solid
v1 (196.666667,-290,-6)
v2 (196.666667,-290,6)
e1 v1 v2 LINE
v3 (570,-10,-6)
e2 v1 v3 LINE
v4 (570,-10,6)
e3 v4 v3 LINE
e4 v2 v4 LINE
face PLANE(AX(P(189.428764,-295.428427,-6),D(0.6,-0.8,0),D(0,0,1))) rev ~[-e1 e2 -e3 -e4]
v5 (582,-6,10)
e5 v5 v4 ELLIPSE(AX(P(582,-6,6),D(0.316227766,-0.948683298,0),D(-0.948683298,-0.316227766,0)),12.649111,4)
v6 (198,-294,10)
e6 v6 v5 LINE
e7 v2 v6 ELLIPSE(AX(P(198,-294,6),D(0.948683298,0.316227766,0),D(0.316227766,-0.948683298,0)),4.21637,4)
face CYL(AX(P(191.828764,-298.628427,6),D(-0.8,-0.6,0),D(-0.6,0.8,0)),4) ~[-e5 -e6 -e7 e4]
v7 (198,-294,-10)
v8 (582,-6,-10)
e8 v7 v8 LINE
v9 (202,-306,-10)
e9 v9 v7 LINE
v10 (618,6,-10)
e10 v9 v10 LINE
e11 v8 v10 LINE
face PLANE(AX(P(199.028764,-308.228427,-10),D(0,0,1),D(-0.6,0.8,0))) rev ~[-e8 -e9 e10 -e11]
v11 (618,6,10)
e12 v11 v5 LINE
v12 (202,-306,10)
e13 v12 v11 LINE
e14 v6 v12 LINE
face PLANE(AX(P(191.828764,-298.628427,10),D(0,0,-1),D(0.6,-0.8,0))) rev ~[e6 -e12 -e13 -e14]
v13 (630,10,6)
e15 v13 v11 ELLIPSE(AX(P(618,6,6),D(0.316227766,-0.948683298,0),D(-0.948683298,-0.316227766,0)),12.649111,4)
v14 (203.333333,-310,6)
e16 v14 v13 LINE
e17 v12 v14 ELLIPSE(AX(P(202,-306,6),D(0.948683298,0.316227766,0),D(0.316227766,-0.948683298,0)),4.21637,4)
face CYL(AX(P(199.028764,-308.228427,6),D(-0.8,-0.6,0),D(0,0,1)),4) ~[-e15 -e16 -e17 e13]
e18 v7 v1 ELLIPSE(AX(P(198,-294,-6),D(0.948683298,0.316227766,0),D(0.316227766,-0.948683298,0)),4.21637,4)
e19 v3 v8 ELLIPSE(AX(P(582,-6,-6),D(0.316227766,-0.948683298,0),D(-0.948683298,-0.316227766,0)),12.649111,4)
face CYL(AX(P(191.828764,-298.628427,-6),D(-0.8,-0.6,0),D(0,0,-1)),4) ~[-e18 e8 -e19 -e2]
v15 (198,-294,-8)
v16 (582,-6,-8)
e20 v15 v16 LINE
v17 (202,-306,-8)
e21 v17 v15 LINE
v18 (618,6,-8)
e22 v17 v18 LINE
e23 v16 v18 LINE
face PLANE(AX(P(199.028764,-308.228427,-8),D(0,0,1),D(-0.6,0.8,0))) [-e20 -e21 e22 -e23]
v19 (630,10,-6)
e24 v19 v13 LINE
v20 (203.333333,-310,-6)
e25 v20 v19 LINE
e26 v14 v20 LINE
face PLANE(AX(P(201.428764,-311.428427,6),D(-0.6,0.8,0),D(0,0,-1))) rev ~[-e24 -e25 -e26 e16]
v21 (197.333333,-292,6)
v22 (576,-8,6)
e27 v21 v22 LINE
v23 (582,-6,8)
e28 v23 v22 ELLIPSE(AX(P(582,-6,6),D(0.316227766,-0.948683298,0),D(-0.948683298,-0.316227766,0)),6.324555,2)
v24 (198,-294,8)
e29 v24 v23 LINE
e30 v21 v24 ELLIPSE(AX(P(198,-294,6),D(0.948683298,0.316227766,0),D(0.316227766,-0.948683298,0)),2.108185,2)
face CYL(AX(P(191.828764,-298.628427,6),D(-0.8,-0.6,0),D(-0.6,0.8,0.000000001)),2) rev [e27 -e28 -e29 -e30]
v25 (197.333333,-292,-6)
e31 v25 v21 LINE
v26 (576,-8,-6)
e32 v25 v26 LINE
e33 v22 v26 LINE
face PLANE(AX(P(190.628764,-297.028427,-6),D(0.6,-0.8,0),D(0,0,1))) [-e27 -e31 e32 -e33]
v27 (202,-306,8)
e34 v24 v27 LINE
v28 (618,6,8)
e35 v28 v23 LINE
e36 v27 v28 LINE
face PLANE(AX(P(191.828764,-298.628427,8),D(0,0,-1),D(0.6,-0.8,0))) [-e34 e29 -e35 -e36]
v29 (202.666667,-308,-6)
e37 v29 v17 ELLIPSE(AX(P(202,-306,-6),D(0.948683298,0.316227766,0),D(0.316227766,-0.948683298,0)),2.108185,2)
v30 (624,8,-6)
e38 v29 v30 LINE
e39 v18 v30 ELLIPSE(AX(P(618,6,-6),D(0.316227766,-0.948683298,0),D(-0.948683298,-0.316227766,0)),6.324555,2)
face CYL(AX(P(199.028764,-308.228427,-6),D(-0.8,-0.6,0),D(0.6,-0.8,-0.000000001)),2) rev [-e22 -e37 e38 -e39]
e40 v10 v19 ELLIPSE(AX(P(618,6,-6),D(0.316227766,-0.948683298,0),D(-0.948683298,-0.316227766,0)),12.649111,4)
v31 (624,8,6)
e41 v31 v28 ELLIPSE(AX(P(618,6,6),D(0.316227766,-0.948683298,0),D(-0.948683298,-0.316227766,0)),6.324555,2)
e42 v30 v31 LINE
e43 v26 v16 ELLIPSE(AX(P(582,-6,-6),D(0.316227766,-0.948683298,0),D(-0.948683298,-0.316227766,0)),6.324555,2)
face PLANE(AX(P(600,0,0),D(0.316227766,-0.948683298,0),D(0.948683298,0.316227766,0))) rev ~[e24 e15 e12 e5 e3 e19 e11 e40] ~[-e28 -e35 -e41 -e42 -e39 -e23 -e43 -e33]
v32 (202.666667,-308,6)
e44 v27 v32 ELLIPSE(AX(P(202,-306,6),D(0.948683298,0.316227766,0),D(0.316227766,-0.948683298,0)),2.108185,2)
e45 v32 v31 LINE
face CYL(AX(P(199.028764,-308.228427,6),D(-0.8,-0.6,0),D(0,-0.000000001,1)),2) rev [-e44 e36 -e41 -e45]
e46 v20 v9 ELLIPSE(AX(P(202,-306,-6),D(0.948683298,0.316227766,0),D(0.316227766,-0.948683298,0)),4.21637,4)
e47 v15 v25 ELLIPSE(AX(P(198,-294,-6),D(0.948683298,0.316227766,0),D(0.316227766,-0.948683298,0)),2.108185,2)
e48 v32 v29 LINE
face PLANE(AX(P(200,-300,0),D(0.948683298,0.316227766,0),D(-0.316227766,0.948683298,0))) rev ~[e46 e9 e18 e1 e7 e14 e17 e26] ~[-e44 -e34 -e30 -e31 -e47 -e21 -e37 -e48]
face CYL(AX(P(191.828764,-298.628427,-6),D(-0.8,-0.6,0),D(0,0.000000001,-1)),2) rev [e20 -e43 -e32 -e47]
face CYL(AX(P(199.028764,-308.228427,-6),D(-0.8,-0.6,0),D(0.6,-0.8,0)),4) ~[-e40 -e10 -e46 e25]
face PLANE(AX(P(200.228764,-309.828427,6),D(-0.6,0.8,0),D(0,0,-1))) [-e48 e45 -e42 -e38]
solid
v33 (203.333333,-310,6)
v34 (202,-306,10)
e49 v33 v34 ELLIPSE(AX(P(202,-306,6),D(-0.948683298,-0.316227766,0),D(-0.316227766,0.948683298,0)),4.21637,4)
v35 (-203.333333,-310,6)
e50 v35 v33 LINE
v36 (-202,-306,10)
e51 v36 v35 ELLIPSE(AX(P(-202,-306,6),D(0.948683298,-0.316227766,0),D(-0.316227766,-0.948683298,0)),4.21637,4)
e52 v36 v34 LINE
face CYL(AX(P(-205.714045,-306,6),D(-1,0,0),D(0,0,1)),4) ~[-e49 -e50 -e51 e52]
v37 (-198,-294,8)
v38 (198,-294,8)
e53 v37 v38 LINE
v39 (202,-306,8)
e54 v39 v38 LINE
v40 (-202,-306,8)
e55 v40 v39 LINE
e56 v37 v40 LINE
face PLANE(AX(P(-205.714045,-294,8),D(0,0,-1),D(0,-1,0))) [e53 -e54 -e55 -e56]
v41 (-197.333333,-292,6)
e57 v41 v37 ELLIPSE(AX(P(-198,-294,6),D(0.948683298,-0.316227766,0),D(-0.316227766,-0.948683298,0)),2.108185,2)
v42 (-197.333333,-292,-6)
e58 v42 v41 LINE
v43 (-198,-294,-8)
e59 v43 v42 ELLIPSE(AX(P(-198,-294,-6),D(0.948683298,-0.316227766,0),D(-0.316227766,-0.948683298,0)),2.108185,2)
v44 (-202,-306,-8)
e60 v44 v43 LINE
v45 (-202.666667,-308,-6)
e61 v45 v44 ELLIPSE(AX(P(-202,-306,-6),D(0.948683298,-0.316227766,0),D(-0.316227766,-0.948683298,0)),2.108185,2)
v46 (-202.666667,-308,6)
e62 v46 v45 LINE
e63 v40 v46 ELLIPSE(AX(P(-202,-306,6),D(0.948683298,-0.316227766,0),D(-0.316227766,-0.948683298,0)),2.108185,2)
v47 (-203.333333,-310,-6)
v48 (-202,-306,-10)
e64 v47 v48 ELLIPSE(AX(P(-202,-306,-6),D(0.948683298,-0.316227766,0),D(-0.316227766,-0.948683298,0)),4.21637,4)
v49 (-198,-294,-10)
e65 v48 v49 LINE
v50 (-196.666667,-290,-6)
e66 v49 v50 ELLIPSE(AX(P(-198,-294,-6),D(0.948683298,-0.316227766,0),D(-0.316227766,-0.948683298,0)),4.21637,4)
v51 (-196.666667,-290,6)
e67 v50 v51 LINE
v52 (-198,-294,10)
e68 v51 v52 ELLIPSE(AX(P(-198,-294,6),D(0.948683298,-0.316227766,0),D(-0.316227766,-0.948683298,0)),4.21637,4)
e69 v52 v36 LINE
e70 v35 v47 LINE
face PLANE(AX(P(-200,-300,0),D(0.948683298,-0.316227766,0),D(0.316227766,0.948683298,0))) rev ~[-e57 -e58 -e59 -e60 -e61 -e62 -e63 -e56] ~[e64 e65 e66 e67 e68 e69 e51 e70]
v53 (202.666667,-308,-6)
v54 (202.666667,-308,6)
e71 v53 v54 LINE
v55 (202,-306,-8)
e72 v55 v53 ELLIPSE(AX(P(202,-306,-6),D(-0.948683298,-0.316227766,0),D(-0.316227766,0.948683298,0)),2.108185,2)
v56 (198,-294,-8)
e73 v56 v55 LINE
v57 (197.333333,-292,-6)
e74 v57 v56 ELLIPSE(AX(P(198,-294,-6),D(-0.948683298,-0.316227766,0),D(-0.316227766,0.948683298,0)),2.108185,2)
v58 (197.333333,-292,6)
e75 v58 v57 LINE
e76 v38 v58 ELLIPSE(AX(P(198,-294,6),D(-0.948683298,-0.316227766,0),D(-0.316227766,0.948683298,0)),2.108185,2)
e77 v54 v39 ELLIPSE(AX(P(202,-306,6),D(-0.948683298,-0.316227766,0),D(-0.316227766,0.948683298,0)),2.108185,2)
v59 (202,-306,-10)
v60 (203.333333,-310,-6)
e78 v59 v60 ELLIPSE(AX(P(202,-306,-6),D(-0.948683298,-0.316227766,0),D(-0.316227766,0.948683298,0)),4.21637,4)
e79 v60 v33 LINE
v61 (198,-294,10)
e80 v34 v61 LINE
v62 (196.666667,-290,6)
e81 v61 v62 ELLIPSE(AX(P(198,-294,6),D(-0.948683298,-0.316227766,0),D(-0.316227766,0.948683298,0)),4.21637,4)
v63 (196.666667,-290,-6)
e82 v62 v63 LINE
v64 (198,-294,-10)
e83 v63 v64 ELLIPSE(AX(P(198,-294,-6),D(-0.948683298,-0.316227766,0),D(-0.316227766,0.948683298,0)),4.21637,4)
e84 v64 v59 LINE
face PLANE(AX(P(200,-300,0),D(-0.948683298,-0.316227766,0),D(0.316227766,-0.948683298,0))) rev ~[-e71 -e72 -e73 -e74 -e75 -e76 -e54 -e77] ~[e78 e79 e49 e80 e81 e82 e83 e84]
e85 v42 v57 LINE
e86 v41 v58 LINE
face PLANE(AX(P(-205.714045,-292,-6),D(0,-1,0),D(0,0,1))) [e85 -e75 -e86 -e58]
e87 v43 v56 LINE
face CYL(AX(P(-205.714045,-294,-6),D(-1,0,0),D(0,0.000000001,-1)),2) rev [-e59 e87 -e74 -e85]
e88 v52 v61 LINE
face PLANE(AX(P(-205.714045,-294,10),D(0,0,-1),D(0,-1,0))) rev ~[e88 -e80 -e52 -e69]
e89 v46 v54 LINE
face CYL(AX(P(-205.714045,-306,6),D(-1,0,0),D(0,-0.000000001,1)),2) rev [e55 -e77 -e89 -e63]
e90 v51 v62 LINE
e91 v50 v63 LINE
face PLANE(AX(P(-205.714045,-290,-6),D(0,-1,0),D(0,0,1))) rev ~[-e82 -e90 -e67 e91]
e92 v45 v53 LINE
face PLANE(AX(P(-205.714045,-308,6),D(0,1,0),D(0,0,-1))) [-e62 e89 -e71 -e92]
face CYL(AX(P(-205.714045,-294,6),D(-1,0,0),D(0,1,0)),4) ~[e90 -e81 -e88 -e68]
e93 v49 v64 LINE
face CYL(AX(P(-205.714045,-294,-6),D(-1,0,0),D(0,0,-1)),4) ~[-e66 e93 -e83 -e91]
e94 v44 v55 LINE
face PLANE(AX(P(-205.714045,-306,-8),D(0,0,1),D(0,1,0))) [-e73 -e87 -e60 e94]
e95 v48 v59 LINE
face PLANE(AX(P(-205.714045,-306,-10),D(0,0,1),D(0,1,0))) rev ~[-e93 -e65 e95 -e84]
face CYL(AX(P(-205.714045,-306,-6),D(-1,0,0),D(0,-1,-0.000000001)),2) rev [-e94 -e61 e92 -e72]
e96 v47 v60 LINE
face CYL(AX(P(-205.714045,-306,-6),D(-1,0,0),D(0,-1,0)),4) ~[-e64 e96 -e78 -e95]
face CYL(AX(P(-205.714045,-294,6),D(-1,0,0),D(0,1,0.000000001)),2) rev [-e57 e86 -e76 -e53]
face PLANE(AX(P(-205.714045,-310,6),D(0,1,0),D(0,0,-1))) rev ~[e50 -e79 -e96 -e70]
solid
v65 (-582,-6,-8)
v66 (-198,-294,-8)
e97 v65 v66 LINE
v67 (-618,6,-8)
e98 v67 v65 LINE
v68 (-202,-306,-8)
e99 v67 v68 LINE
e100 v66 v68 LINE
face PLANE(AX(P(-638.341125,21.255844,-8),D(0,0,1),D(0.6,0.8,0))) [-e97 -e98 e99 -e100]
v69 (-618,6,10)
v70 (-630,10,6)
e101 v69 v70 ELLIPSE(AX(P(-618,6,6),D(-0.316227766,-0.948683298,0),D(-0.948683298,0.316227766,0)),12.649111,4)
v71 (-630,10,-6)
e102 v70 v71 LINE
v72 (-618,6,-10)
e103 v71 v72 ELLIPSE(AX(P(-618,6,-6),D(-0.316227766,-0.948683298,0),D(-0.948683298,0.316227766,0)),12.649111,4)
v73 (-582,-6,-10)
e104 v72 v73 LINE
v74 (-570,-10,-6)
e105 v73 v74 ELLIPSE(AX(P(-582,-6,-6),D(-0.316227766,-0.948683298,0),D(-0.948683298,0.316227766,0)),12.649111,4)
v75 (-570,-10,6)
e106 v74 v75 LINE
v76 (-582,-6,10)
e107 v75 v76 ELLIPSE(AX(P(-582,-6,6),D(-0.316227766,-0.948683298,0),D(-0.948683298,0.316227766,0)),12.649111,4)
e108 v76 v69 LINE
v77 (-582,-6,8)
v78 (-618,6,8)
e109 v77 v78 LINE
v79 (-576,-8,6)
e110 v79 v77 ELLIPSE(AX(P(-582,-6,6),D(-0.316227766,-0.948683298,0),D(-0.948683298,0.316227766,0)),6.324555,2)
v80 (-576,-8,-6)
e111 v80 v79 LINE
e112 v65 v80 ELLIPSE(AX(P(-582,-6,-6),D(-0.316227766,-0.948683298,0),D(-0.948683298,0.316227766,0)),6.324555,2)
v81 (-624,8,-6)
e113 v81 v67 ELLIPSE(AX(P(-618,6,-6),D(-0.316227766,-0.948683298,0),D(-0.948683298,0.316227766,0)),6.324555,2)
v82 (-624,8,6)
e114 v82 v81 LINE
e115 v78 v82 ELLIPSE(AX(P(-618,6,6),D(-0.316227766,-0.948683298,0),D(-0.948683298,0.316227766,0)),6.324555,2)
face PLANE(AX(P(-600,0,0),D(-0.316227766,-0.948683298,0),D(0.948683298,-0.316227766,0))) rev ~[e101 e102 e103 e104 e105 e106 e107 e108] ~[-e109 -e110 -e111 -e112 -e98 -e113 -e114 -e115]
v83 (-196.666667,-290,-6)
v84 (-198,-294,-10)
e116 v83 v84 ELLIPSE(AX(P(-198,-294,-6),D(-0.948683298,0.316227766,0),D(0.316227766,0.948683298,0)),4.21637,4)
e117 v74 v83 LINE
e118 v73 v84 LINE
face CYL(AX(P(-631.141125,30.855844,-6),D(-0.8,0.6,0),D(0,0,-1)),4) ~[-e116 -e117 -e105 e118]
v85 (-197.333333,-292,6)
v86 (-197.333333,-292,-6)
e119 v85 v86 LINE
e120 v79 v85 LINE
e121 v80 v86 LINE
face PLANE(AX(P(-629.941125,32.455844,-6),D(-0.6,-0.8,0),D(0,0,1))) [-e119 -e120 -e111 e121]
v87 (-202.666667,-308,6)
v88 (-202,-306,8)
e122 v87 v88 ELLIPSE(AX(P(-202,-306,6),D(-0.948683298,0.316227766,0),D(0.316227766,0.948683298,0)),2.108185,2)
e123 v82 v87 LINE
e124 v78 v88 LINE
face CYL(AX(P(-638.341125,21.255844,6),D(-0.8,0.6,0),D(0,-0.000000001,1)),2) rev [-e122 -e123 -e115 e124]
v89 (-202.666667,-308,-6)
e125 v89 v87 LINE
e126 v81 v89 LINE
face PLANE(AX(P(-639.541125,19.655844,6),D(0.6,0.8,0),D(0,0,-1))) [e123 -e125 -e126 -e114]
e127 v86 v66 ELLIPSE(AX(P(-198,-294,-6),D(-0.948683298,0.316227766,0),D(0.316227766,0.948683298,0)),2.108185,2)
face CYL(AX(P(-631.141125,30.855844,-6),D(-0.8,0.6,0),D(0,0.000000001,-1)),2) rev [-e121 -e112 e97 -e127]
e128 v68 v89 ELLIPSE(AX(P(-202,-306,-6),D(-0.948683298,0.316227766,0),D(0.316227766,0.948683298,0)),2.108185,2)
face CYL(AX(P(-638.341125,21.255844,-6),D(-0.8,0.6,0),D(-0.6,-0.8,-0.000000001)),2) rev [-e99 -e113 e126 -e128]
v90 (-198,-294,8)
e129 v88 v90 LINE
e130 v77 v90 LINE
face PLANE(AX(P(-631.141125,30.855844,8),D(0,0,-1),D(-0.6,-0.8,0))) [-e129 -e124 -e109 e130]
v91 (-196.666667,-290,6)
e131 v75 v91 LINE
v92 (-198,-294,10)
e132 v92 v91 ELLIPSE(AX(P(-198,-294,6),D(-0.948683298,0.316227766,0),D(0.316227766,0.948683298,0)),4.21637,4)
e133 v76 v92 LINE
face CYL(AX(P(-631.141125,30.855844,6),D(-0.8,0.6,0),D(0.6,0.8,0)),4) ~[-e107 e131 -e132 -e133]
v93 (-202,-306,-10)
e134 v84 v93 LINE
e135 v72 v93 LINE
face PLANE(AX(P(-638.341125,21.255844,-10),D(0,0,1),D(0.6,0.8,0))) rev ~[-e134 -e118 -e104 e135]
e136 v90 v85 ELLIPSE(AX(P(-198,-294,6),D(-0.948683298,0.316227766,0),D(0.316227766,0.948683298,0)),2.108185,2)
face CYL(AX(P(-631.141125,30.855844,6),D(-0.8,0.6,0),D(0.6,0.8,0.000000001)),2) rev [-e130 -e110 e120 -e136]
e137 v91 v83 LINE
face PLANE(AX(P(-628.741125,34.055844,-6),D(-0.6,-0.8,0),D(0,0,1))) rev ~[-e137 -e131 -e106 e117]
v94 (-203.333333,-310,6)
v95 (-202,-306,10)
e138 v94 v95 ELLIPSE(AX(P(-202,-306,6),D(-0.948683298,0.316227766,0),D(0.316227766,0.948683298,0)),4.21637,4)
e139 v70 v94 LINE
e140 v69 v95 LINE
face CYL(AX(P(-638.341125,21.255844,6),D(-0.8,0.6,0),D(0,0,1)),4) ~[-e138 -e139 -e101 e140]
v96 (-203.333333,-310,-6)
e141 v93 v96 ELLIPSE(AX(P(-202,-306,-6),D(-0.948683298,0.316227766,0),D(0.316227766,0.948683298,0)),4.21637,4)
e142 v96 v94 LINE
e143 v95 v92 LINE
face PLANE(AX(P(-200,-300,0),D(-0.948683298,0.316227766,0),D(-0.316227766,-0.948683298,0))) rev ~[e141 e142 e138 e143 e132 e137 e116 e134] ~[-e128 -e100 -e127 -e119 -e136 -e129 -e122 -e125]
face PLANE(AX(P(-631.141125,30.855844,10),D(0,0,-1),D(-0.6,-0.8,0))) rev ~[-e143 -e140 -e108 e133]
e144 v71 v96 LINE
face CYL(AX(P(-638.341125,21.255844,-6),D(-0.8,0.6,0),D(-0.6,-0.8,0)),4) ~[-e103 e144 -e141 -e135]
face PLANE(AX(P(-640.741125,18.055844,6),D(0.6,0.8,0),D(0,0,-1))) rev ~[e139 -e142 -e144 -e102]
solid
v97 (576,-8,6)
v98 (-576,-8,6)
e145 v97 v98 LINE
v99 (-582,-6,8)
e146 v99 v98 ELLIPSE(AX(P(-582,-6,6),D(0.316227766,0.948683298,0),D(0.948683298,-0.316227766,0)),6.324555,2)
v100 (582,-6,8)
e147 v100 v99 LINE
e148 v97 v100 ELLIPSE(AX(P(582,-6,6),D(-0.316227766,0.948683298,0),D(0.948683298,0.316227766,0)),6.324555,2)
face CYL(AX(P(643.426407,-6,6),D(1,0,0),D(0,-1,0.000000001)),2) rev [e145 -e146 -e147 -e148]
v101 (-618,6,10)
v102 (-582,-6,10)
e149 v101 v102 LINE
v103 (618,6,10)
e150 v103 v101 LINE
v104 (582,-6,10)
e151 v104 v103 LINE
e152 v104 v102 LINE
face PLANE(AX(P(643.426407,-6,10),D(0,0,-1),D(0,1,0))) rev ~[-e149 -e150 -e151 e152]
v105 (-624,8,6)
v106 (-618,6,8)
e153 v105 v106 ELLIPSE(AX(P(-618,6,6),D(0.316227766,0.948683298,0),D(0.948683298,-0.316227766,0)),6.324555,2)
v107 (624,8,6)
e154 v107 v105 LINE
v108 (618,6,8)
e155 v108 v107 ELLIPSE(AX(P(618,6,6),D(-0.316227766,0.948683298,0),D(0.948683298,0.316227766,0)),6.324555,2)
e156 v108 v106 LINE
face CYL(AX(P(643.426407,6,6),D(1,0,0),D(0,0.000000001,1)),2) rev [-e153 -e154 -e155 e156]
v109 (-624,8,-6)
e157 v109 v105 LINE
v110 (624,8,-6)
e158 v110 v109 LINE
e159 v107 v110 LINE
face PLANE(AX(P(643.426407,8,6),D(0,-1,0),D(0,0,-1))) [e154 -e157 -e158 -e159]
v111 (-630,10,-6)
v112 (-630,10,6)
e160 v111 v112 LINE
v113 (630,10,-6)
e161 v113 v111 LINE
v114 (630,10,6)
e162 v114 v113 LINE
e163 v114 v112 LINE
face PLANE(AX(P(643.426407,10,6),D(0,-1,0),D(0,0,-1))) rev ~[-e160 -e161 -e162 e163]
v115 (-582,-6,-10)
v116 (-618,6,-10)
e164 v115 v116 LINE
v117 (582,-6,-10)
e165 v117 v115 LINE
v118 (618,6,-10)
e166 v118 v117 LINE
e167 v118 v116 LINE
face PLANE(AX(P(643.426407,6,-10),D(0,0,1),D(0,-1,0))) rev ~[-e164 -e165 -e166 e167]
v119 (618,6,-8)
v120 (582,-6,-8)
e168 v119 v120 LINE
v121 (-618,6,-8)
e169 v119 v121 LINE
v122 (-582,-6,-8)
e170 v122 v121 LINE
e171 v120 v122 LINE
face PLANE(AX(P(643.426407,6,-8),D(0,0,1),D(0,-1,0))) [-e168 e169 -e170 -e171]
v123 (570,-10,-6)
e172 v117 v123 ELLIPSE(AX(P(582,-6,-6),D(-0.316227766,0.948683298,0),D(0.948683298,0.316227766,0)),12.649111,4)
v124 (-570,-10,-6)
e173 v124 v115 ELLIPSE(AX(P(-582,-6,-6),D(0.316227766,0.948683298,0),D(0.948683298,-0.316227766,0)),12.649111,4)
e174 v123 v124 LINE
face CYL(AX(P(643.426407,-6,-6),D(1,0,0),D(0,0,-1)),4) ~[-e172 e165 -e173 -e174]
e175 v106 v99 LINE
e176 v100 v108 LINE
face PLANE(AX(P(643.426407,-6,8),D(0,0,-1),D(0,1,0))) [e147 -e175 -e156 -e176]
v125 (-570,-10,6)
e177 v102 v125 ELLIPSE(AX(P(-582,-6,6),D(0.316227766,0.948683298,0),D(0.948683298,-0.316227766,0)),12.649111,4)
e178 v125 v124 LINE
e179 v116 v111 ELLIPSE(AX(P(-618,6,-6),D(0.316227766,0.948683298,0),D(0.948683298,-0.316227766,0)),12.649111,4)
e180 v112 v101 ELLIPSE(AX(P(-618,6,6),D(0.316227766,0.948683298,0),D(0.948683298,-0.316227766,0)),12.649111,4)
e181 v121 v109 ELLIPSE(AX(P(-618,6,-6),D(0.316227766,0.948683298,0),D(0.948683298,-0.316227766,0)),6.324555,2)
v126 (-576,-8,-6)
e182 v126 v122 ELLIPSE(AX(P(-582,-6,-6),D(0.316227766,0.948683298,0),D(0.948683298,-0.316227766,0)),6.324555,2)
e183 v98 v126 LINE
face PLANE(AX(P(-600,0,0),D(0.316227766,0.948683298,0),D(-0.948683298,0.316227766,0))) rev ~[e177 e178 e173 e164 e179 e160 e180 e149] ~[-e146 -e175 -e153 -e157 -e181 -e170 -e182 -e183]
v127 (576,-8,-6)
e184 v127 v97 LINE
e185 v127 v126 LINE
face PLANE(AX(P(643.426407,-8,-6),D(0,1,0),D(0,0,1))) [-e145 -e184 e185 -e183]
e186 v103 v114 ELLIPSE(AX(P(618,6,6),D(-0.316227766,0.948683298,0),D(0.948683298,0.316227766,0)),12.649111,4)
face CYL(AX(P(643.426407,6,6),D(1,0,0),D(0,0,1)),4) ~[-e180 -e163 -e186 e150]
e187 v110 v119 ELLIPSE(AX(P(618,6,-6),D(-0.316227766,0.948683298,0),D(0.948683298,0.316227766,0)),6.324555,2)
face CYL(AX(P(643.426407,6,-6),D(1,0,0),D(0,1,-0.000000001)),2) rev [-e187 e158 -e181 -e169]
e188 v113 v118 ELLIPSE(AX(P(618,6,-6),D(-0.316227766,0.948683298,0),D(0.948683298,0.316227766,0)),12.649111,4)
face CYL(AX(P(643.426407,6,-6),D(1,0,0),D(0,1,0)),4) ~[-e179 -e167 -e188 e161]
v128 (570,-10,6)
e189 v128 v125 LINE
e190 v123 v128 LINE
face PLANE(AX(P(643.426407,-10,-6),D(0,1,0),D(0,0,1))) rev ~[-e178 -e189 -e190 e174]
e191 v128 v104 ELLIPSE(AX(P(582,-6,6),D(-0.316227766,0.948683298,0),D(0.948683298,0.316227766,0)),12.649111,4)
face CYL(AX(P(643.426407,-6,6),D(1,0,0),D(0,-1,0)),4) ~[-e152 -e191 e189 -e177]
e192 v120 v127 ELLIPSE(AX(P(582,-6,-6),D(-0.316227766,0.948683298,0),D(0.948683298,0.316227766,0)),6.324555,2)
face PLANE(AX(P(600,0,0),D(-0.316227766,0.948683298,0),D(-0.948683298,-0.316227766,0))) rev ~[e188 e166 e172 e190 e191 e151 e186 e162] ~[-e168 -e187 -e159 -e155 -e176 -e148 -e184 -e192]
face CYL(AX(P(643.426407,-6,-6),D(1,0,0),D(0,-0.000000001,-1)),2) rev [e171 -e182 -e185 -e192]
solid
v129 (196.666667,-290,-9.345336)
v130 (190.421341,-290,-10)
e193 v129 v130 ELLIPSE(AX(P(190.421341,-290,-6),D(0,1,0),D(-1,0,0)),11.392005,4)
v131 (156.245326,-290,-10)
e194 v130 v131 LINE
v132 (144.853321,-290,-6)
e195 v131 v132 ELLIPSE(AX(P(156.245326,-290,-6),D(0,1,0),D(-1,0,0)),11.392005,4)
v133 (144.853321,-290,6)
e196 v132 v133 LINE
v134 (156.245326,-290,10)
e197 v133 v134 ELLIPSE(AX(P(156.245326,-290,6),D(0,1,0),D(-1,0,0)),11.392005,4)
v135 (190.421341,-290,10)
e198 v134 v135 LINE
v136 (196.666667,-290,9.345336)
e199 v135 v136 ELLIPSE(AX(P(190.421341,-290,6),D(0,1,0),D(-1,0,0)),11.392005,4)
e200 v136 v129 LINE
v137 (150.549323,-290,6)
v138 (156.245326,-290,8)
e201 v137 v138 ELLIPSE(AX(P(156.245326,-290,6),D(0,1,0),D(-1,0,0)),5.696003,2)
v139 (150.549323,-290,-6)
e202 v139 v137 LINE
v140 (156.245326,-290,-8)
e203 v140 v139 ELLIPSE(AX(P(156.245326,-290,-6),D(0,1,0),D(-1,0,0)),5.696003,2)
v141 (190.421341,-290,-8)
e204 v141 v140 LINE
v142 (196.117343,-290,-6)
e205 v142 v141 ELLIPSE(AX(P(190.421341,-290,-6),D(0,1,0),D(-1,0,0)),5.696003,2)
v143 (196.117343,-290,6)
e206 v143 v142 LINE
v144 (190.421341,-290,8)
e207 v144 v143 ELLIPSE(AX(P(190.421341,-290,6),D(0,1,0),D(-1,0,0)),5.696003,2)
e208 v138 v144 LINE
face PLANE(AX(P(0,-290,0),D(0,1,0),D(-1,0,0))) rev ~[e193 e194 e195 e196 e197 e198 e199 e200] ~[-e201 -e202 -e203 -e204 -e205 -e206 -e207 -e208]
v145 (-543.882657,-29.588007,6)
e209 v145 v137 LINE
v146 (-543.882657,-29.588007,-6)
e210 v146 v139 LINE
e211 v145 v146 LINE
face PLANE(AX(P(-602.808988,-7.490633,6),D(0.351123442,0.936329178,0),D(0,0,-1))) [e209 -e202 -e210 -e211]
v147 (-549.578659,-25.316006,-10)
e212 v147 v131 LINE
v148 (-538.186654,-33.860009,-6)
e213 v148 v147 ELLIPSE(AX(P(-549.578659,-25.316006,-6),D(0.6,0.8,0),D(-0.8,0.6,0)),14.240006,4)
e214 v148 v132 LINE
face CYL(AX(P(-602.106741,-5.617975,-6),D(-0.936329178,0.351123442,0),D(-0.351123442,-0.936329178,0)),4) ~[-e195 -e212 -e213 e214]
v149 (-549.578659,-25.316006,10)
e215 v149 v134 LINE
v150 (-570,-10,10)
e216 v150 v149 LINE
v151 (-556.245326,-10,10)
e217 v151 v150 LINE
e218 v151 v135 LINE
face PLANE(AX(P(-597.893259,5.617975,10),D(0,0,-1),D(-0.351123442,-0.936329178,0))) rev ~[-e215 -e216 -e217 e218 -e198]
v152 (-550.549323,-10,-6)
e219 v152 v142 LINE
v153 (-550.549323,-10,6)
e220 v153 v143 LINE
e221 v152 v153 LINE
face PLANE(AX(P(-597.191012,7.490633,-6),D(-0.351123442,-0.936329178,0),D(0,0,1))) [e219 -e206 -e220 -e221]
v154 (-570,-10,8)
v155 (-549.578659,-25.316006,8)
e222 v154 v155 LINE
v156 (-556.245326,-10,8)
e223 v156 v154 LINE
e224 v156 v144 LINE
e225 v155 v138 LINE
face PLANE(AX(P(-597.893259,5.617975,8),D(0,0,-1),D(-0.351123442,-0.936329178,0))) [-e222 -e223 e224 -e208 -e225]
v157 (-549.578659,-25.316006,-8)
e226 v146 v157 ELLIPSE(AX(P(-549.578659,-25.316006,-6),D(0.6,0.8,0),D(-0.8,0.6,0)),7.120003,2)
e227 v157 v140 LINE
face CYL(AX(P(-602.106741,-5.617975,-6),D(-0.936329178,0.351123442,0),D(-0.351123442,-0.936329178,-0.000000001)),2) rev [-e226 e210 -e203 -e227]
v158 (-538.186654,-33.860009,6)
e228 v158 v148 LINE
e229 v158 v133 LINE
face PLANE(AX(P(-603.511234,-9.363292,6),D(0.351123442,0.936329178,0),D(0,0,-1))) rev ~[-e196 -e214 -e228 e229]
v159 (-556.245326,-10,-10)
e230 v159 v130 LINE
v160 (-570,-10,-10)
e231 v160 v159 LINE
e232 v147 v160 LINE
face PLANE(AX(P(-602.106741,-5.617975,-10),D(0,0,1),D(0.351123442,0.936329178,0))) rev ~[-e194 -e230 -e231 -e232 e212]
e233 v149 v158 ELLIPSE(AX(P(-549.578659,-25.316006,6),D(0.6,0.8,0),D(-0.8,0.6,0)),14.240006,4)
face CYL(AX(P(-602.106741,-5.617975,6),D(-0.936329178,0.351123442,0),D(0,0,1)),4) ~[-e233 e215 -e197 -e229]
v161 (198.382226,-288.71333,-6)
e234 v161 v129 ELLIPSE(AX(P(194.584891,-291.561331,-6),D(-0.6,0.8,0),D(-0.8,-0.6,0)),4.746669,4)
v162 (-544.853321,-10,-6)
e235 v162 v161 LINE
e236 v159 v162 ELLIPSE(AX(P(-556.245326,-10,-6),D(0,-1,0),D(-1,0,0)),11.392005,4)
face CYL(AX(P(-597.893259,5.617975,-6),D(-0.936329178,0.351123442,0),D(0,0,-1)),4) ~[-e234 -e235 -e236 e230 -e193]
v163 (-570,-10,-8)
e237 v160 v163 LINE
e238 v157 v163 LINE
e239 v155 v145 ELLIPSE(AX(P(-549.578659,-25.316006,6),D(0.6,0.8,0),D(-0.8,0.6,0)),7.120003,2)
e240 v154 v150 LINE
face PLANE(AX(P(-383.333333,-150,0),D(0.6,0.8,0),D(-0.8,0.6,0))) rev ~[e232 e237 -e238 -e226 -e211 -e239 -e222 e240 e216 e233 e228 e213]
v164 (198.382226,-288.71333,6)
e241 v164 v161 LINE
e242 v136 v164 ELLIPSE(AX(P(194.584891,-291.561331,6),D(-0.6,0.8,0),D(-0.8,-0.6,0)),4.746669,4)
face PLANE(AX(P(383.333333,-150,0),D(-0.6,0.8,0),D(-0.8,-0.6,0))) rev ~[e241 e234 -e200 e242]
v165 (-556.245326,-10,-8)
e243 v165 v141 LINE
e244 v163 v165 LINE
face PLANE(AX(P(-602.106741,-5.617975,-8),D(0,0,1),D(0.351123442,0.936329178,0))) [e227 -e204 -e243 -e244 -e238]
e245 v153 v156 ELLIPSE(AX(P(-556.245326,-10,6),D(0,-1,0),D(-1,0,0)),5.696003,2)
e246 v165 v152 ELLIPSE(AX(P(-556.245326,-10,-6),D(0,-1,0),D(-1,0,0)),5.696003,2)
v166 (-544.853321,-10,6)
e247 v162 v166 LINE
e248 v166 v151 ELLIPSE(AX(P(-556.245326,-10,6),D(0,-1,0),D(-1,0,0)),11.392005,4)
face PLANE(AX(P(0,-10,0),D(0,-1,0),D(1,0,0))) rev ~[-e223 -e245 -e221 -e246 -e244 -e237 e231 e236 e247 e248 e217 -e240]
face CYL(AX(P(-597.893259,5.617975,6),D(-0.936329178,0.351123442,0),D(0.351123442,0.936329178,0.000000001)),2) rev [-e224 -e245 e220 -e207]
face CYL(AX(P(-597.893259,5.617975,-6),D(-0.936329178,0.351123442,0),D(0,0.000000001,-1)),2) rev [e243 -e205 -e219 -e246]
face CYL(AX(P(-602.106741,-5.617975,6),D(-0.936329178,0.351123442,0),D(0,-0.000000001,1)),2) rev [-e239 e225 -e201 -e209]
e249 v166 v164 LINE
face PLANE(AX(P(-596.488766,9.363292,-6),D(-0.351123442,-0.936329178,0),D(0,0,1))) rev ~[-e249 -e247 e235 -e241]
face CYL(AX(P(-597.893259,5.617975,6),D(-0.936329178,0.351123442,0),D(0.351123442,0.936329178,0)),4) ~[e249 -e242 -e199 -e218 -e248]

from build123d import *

# Parameters (mm, degrees)
SQUARE_TUBE_20_X_20_X_2_2_DEPTH      = 1243.426406871
SQUARE_TUBE_20_X_20_X_2_2_DEPTH_BACK = 43.426406871
SQUARE_TUBE_20_X_20_X_2_2_2_DEPTH    = 549.140452079
SQUARE_TUBE_20_X_20_X_2_2_3_DEPTH    = 411.428090416
SQUARE_TUBE_20_X_20_X_2_2_4_DEPTH    = 549.140452079
SQUARE_TUBE_20_X_20_X_2_1_DEPTH      = 854.400374532


with BuildPart() as part:
    # Sketch15 → Square tube 20 X 20 X 2(2) (new, two sides: drawn at the far end of the back side and taken through both)
    with BuildSketch(Plane(origin=(600, 0, 0), x_dir=(0, -1, 0), z_dir=(-1, 0, 0)).offset(-SQUARE_TUBE_20_X_20_X_2_2_DEPTH_BACK)):
        with BuildLine():
            Line((-6, -10), (6, -10))
            ThreePointArc((6, -10), (8.828427125, -8.828427125), (10, -6))
            Line((10, -6), (10, 6))
            ThreePointArc((10, 6), (8.828427125, 8.828427125), (6, 10))
            Line((6, 10), (-6, 10))
            ThreePointArc((-6, 10), (-8.828427125, 8.828427125), (-10, 6))
            Line((-10, 6), (-10, -6))
            ThreePointArc((-10, -6), (-8.828427125, -8.828427125), (-6, -10))
        make_face()
        with BuildLine():
            Line((-6, -8), (6, -8))
            ThreePointArc((6, -8), (7.414213562, -7.414213562), (8, -6))
            Line((8, -6), (8, 6))
            ThreePointArc((8, 6), (7.414213562, 7.414213562), (6, 8))
            Line((6, 8), (-6, 8))
            ThreePointArc((-6, 8), (-7.414213562, 7.414213562), (-8, 6))
            Line((-8, 6), (-8, -6))
            ThreePointArc((-8, -6), (-7.414213562, -7.414213562), (-6, -8))
        make_face(mode=Mode.SUBTRACT)
    extrude(amount=SQUARE_TUBE_20_X_20_X_2_2_DEPTH + SQUARE_TUBE_20_X_20_X_2_2_DEPTH_BACK)

    # Square tube 20 X 20 X 2(2) mitre 1
    split(bisect_by=Plane(origin=(600, 0, 0), x_dir=(-0.948683298, -0.316227766, 0), z_dir=(-0.316227766, 0.948683298, 0)), keep=Keep.TOP)

    # Square tube 20 X 20 X 2(2) mitre 2
    split(bisect_by=Plane(origin=(-600, 0, 0), x_dir=(-0.948683298, 0.316227766, 0), z_dir=(0.316227766, 0.948683298, 0)), keep=Keep.TOP)


with BuildPart() as body_2:
    # Sketch15 on segment 2 (carried to segment 2) → Square tube 20 X 20 X 2_2 2 (new body)
    with BuildSketch(Plane(origin=(-634.741125497, 26.055844123, 0), x_dir=(0.6, 0.8, 0), z_dir=(0.8, -0.6, 0))):
        with BuildLine():
            Line((-6, -10), (6, -10))
            ThreePointArc((6, -10), (8.828427125, -8.828427125), (10, -6))
            Line((10, -6), (10, 6))
            ThreePointArc((10, 6), (8.828427125, 8.828427125), (6, 10))
            Line((6, 10), (-6, 10))
            ThreePointArc((-6, 10), (-8.828427125, 8.828427125), (-10, 6))
            Line((-10, 6), (-10, -6))
            ThreePointArc((-10, -6), (-8.828427125, -8.828427125), (-6, -10))
        make_face()
        with BuildLine():
            Line((-6, -8), (6, -8))
            ThreePointArc((6, -8), (7.414213562, -7.414213562), (8, -6))
            Line((8, -6), (8, 6))
            ThreePointArc((8, 6), (7.414213562, 7.414213562), (6, 8))
            Line((6, 8), (-6, 8))
            ThreePointArc((-6, 8), (-7.414213562, 7.414213562), (-8, 6))
            Line((-8, 6), (-8, -6))
            ThreePointArc((-8, -6), (-7.414213562, -7.414213562), (-6, -8))
        make_face(mode=Mode.SUBTRACT)
    extrude(amount=SQUARE_TUBE_20_X_20_X_2_2_2_DEPTH)

    # Square tube 20 X 20 X 2_2 2 mitre 1
    split(bisect_by=Plane(origin=(-600, 0, 0), x_dir=(0.948683298, -0.316227766, 0), z_dir=(-0.316227766, -0.948683298, 0)), keep=Keep.TOP)

    # Square tube 20 X 20 X 2_2 2 mitre 2
    split(bisect_by=Plane(origin=(-200, -300, 0), x_dir=(-0.316227766, -0.948683298, 0), z_dir=(-0.948683298, 0.316227766, 0)), keep=Keep.TOP)


with BuildPart() as body_3:
    # Sketch15 on segment 3 (carried to segment 3) → Square tube 20 X 20 X 2_2 3 (new body)
    with BuildSketch(Plane(origin=(-205.714045208, -300, 0), x_dir=(0, 1, 0), z_dir=(1, 0, 0))):
        with BuildLine():
            Line((-6, -10), (6, -10))
            ThreePointArc((6, -10), (8.828427125, -8.828427125), (10, -6))
            Line((10, -6), (10, 6))
            ThreePointArc((10, 6), (8.828427125, 8.828427125), (6, 10))
            Line((6, 10), (-6, 10))
            ThreePointArc((-6, 10), (-8.828427125, 8.828427125), (-10, 6))
            Line((-10, 6), (-10, -6))
            ThreePointArc((-10, -6), (-8.828427125, -8.828427125), (-6, -10))
        make_face()
        with BuildLine():
            Line((-6, -8), (6, -8))
            ThreePointArc((6, -8), (7.414213562, -7.414213562), (8, -6))
            Line((8, -6), (8, 6))
            ThreePointArc((8, 6), (7.414213562, 7.414213562), (6, 8))
            Line((6, 8), (-6, 8))
            ThreePointArc((-6, 8), (-7.414213562, 7.414213562), (-8, 6))
            Line((-8, 6), (-8, -6))
            ThreePointArc((-8, -6), (-7.414213562, -7.414213562), (-6, -8))
        make_face(mode=Mode.SUBTRACT)
    extrude(amount=SQUARE_TUBE_20_X_20_X_2_2_3_DEPTH)

    # Square tube 20 X 20 X 2_2 3 mitre 1
    split(bisect_by=Plane(origin=(-200, -300, 0), x_dir=(0.316227766, 0.948683298, 0), z_dir=(0.948683298, -0.316227766, 0)), keep=Keep.TOP)

    # Square tube 20 X 20 X 2_2 3 mitre 2
    split(bisect_by=Plane(origin=(200, -300, 0), x_dir=(0.316227766, -0.948683298, 0), z_dir=(-0.948683298, -0.316227766, 0)), keep=Keep.TOP)


with BuildPart() as body_4:
    # Sketch15 on segment 4 (carried to segment 4) → Square tube 20 X 20 X 2_2 4 (new body)
    with BuildSketch(Plane(origin=(195.428763834, -303.428427125, 0), x_dir=(-0.6, 0.8, 0), z_dir=(0.8, 0.6, 0))):
        with BuildLine():
            Line((-6, -10), (6, -10))
            ThreePointArc((6, -10), (8.828427125, -8.828427125), (10, -6))
            Line((10, -6), (10, 6))
            ThreePointArc((10, 6), (8.828427125, 8.828427125), (6, 10))
            Line((6, 10), (-6, 10))
            ThreePointArc((-6, 10), (-8.828427125, 8.828427125), (-10, 6))
            Line((-10, 6), (-10, -6))
            ThreePointArc((-10, -6), (-8.828427125, -8.828427125), (-6, -10))
        make_face()
        with BuildLine():
            Line((-6, -8), (6, -8))
            ThreePointArc((6, -8), (7.414213562, -7.414213562), (8, -6))
            Line((8, -6), (8, 6))
            ThreePointArc((8, 6), (7.414213562, 7.414213562), (6, 8))
            Line((6, 8), (-6, 8))
            ThreePointArc((-6, 8), (-7.414213562, 7.414213562), (-8, 6))
            Line((-8, 6), (-8, -6))
            ThreePointArc((-8, -6), (-7.414213562, -7.414213562), (-6, -8))
        make_face(mode=Mode.SUBTRACT)
    extrude(amount=SQUARE_TUBE_20_X_20_X_2_2_4_DEPTH)

    # Square tube 20 X 20 X 2_2 4 mitre 1
    split(bisect_by=Plane(origin=(200, -300, 0), x_dir=(-0.316227766, 0.948683298, 0), z_dir=(0.948683298, 0.316227766, 0)), keep=Keep.TOP)

    # Square tube 20 X 20 X 2_2 4 mitre 2
    split(bisect_by=Plane(origin=(600, 0, 0), x_dir=(0.948683298, 0.316227766, 0), z_dir=(0.316227766, -0.948683298, 0)), keep=Keep.TOP)


with BuildPart() as body_5:
    # Sketch16 → Square tube 20 X 20 X 2(1) (new body)
    with BuildSketch(Plane(origin=(-600, 0, 0), x_dir=(0.35112344158839154, 0.9363291775690447, 0), z_dir=(0.9363291775690447, -0.35112344158839154, 0))):
        with BuildLine():
            Line((-6, -10), (6, -10))
            ThreePointArc((6, -10), (8.828427125, -8.828427125), (10, -6))
            Line((10, -6), (10, 6))
            ThreePointArc((10, 6), (8.828427125, 8.828427125), (6, 10))
            Line((6, 10), (-6, 10))
            ThreePointArc((-6, 10), (-8.828427125, 8.828427125), (-10, 6))
            Line((-10, 6), (-10, -6))
            ThreePointArc((-10, -6), (-8.828427125, -8.828427125), (-6, -10))
        make_face()
        with BuildLine():
            Line((-6, -8), (6, -8))
            ThreePointArc((6, -8), (7.414213562, -7.414213562), (8, -6))
            Line((8, -6), (8, 6))
            ThreePointArc((8, 6), (7.414213562, 7.414213562), (6, 8))
            Line((6, 8), (-6, 8))
            ThreePointArc((-6, 8), (-7.414213562, 7.414213562), (-8, 6))
            Line((-8, 6), (-8, -6))
            ThreePointArc((-8, -6), (-7.414213562, -7.414213562), (-6, -8))
        make_face(mode=Mode.SUBTRACT)
    extrude(amount=SQUARE_TUBE_20_X_20_X_2_1_DEPTH)

    # Trim/Extend1
    split(bisect_by=Plane.XZ.offset(10), keep=Keep.TOP)

    # Trim_Extend1 3
    split(bisect_by=Plane(origin=(-383.333333333, -150, 0), x_dir=(-0.8, 0.6, 0), z_dir=(0.6, 0.8, 0)), keep=Keep.TOP)

    # Trim_Extend1 5
    split(bisect_by=Plane(origin=(383.333333334, -150, 0), x_dir=(-0.8, -0.6, 0), z_dir=(-0.6, 0.8, 0)), keep=Keep.TOP)

    # Trim_Extend1 7
    split(bisect_by=Plane(origin=(0, -290, 0), x_dir=(-1, 0, 0), z_dir=(0, 1, 0)), keep=Keep.TOP)


solid = Compound([part.part, body_2.part, body_3.part, body_4.part, body_5.part])
